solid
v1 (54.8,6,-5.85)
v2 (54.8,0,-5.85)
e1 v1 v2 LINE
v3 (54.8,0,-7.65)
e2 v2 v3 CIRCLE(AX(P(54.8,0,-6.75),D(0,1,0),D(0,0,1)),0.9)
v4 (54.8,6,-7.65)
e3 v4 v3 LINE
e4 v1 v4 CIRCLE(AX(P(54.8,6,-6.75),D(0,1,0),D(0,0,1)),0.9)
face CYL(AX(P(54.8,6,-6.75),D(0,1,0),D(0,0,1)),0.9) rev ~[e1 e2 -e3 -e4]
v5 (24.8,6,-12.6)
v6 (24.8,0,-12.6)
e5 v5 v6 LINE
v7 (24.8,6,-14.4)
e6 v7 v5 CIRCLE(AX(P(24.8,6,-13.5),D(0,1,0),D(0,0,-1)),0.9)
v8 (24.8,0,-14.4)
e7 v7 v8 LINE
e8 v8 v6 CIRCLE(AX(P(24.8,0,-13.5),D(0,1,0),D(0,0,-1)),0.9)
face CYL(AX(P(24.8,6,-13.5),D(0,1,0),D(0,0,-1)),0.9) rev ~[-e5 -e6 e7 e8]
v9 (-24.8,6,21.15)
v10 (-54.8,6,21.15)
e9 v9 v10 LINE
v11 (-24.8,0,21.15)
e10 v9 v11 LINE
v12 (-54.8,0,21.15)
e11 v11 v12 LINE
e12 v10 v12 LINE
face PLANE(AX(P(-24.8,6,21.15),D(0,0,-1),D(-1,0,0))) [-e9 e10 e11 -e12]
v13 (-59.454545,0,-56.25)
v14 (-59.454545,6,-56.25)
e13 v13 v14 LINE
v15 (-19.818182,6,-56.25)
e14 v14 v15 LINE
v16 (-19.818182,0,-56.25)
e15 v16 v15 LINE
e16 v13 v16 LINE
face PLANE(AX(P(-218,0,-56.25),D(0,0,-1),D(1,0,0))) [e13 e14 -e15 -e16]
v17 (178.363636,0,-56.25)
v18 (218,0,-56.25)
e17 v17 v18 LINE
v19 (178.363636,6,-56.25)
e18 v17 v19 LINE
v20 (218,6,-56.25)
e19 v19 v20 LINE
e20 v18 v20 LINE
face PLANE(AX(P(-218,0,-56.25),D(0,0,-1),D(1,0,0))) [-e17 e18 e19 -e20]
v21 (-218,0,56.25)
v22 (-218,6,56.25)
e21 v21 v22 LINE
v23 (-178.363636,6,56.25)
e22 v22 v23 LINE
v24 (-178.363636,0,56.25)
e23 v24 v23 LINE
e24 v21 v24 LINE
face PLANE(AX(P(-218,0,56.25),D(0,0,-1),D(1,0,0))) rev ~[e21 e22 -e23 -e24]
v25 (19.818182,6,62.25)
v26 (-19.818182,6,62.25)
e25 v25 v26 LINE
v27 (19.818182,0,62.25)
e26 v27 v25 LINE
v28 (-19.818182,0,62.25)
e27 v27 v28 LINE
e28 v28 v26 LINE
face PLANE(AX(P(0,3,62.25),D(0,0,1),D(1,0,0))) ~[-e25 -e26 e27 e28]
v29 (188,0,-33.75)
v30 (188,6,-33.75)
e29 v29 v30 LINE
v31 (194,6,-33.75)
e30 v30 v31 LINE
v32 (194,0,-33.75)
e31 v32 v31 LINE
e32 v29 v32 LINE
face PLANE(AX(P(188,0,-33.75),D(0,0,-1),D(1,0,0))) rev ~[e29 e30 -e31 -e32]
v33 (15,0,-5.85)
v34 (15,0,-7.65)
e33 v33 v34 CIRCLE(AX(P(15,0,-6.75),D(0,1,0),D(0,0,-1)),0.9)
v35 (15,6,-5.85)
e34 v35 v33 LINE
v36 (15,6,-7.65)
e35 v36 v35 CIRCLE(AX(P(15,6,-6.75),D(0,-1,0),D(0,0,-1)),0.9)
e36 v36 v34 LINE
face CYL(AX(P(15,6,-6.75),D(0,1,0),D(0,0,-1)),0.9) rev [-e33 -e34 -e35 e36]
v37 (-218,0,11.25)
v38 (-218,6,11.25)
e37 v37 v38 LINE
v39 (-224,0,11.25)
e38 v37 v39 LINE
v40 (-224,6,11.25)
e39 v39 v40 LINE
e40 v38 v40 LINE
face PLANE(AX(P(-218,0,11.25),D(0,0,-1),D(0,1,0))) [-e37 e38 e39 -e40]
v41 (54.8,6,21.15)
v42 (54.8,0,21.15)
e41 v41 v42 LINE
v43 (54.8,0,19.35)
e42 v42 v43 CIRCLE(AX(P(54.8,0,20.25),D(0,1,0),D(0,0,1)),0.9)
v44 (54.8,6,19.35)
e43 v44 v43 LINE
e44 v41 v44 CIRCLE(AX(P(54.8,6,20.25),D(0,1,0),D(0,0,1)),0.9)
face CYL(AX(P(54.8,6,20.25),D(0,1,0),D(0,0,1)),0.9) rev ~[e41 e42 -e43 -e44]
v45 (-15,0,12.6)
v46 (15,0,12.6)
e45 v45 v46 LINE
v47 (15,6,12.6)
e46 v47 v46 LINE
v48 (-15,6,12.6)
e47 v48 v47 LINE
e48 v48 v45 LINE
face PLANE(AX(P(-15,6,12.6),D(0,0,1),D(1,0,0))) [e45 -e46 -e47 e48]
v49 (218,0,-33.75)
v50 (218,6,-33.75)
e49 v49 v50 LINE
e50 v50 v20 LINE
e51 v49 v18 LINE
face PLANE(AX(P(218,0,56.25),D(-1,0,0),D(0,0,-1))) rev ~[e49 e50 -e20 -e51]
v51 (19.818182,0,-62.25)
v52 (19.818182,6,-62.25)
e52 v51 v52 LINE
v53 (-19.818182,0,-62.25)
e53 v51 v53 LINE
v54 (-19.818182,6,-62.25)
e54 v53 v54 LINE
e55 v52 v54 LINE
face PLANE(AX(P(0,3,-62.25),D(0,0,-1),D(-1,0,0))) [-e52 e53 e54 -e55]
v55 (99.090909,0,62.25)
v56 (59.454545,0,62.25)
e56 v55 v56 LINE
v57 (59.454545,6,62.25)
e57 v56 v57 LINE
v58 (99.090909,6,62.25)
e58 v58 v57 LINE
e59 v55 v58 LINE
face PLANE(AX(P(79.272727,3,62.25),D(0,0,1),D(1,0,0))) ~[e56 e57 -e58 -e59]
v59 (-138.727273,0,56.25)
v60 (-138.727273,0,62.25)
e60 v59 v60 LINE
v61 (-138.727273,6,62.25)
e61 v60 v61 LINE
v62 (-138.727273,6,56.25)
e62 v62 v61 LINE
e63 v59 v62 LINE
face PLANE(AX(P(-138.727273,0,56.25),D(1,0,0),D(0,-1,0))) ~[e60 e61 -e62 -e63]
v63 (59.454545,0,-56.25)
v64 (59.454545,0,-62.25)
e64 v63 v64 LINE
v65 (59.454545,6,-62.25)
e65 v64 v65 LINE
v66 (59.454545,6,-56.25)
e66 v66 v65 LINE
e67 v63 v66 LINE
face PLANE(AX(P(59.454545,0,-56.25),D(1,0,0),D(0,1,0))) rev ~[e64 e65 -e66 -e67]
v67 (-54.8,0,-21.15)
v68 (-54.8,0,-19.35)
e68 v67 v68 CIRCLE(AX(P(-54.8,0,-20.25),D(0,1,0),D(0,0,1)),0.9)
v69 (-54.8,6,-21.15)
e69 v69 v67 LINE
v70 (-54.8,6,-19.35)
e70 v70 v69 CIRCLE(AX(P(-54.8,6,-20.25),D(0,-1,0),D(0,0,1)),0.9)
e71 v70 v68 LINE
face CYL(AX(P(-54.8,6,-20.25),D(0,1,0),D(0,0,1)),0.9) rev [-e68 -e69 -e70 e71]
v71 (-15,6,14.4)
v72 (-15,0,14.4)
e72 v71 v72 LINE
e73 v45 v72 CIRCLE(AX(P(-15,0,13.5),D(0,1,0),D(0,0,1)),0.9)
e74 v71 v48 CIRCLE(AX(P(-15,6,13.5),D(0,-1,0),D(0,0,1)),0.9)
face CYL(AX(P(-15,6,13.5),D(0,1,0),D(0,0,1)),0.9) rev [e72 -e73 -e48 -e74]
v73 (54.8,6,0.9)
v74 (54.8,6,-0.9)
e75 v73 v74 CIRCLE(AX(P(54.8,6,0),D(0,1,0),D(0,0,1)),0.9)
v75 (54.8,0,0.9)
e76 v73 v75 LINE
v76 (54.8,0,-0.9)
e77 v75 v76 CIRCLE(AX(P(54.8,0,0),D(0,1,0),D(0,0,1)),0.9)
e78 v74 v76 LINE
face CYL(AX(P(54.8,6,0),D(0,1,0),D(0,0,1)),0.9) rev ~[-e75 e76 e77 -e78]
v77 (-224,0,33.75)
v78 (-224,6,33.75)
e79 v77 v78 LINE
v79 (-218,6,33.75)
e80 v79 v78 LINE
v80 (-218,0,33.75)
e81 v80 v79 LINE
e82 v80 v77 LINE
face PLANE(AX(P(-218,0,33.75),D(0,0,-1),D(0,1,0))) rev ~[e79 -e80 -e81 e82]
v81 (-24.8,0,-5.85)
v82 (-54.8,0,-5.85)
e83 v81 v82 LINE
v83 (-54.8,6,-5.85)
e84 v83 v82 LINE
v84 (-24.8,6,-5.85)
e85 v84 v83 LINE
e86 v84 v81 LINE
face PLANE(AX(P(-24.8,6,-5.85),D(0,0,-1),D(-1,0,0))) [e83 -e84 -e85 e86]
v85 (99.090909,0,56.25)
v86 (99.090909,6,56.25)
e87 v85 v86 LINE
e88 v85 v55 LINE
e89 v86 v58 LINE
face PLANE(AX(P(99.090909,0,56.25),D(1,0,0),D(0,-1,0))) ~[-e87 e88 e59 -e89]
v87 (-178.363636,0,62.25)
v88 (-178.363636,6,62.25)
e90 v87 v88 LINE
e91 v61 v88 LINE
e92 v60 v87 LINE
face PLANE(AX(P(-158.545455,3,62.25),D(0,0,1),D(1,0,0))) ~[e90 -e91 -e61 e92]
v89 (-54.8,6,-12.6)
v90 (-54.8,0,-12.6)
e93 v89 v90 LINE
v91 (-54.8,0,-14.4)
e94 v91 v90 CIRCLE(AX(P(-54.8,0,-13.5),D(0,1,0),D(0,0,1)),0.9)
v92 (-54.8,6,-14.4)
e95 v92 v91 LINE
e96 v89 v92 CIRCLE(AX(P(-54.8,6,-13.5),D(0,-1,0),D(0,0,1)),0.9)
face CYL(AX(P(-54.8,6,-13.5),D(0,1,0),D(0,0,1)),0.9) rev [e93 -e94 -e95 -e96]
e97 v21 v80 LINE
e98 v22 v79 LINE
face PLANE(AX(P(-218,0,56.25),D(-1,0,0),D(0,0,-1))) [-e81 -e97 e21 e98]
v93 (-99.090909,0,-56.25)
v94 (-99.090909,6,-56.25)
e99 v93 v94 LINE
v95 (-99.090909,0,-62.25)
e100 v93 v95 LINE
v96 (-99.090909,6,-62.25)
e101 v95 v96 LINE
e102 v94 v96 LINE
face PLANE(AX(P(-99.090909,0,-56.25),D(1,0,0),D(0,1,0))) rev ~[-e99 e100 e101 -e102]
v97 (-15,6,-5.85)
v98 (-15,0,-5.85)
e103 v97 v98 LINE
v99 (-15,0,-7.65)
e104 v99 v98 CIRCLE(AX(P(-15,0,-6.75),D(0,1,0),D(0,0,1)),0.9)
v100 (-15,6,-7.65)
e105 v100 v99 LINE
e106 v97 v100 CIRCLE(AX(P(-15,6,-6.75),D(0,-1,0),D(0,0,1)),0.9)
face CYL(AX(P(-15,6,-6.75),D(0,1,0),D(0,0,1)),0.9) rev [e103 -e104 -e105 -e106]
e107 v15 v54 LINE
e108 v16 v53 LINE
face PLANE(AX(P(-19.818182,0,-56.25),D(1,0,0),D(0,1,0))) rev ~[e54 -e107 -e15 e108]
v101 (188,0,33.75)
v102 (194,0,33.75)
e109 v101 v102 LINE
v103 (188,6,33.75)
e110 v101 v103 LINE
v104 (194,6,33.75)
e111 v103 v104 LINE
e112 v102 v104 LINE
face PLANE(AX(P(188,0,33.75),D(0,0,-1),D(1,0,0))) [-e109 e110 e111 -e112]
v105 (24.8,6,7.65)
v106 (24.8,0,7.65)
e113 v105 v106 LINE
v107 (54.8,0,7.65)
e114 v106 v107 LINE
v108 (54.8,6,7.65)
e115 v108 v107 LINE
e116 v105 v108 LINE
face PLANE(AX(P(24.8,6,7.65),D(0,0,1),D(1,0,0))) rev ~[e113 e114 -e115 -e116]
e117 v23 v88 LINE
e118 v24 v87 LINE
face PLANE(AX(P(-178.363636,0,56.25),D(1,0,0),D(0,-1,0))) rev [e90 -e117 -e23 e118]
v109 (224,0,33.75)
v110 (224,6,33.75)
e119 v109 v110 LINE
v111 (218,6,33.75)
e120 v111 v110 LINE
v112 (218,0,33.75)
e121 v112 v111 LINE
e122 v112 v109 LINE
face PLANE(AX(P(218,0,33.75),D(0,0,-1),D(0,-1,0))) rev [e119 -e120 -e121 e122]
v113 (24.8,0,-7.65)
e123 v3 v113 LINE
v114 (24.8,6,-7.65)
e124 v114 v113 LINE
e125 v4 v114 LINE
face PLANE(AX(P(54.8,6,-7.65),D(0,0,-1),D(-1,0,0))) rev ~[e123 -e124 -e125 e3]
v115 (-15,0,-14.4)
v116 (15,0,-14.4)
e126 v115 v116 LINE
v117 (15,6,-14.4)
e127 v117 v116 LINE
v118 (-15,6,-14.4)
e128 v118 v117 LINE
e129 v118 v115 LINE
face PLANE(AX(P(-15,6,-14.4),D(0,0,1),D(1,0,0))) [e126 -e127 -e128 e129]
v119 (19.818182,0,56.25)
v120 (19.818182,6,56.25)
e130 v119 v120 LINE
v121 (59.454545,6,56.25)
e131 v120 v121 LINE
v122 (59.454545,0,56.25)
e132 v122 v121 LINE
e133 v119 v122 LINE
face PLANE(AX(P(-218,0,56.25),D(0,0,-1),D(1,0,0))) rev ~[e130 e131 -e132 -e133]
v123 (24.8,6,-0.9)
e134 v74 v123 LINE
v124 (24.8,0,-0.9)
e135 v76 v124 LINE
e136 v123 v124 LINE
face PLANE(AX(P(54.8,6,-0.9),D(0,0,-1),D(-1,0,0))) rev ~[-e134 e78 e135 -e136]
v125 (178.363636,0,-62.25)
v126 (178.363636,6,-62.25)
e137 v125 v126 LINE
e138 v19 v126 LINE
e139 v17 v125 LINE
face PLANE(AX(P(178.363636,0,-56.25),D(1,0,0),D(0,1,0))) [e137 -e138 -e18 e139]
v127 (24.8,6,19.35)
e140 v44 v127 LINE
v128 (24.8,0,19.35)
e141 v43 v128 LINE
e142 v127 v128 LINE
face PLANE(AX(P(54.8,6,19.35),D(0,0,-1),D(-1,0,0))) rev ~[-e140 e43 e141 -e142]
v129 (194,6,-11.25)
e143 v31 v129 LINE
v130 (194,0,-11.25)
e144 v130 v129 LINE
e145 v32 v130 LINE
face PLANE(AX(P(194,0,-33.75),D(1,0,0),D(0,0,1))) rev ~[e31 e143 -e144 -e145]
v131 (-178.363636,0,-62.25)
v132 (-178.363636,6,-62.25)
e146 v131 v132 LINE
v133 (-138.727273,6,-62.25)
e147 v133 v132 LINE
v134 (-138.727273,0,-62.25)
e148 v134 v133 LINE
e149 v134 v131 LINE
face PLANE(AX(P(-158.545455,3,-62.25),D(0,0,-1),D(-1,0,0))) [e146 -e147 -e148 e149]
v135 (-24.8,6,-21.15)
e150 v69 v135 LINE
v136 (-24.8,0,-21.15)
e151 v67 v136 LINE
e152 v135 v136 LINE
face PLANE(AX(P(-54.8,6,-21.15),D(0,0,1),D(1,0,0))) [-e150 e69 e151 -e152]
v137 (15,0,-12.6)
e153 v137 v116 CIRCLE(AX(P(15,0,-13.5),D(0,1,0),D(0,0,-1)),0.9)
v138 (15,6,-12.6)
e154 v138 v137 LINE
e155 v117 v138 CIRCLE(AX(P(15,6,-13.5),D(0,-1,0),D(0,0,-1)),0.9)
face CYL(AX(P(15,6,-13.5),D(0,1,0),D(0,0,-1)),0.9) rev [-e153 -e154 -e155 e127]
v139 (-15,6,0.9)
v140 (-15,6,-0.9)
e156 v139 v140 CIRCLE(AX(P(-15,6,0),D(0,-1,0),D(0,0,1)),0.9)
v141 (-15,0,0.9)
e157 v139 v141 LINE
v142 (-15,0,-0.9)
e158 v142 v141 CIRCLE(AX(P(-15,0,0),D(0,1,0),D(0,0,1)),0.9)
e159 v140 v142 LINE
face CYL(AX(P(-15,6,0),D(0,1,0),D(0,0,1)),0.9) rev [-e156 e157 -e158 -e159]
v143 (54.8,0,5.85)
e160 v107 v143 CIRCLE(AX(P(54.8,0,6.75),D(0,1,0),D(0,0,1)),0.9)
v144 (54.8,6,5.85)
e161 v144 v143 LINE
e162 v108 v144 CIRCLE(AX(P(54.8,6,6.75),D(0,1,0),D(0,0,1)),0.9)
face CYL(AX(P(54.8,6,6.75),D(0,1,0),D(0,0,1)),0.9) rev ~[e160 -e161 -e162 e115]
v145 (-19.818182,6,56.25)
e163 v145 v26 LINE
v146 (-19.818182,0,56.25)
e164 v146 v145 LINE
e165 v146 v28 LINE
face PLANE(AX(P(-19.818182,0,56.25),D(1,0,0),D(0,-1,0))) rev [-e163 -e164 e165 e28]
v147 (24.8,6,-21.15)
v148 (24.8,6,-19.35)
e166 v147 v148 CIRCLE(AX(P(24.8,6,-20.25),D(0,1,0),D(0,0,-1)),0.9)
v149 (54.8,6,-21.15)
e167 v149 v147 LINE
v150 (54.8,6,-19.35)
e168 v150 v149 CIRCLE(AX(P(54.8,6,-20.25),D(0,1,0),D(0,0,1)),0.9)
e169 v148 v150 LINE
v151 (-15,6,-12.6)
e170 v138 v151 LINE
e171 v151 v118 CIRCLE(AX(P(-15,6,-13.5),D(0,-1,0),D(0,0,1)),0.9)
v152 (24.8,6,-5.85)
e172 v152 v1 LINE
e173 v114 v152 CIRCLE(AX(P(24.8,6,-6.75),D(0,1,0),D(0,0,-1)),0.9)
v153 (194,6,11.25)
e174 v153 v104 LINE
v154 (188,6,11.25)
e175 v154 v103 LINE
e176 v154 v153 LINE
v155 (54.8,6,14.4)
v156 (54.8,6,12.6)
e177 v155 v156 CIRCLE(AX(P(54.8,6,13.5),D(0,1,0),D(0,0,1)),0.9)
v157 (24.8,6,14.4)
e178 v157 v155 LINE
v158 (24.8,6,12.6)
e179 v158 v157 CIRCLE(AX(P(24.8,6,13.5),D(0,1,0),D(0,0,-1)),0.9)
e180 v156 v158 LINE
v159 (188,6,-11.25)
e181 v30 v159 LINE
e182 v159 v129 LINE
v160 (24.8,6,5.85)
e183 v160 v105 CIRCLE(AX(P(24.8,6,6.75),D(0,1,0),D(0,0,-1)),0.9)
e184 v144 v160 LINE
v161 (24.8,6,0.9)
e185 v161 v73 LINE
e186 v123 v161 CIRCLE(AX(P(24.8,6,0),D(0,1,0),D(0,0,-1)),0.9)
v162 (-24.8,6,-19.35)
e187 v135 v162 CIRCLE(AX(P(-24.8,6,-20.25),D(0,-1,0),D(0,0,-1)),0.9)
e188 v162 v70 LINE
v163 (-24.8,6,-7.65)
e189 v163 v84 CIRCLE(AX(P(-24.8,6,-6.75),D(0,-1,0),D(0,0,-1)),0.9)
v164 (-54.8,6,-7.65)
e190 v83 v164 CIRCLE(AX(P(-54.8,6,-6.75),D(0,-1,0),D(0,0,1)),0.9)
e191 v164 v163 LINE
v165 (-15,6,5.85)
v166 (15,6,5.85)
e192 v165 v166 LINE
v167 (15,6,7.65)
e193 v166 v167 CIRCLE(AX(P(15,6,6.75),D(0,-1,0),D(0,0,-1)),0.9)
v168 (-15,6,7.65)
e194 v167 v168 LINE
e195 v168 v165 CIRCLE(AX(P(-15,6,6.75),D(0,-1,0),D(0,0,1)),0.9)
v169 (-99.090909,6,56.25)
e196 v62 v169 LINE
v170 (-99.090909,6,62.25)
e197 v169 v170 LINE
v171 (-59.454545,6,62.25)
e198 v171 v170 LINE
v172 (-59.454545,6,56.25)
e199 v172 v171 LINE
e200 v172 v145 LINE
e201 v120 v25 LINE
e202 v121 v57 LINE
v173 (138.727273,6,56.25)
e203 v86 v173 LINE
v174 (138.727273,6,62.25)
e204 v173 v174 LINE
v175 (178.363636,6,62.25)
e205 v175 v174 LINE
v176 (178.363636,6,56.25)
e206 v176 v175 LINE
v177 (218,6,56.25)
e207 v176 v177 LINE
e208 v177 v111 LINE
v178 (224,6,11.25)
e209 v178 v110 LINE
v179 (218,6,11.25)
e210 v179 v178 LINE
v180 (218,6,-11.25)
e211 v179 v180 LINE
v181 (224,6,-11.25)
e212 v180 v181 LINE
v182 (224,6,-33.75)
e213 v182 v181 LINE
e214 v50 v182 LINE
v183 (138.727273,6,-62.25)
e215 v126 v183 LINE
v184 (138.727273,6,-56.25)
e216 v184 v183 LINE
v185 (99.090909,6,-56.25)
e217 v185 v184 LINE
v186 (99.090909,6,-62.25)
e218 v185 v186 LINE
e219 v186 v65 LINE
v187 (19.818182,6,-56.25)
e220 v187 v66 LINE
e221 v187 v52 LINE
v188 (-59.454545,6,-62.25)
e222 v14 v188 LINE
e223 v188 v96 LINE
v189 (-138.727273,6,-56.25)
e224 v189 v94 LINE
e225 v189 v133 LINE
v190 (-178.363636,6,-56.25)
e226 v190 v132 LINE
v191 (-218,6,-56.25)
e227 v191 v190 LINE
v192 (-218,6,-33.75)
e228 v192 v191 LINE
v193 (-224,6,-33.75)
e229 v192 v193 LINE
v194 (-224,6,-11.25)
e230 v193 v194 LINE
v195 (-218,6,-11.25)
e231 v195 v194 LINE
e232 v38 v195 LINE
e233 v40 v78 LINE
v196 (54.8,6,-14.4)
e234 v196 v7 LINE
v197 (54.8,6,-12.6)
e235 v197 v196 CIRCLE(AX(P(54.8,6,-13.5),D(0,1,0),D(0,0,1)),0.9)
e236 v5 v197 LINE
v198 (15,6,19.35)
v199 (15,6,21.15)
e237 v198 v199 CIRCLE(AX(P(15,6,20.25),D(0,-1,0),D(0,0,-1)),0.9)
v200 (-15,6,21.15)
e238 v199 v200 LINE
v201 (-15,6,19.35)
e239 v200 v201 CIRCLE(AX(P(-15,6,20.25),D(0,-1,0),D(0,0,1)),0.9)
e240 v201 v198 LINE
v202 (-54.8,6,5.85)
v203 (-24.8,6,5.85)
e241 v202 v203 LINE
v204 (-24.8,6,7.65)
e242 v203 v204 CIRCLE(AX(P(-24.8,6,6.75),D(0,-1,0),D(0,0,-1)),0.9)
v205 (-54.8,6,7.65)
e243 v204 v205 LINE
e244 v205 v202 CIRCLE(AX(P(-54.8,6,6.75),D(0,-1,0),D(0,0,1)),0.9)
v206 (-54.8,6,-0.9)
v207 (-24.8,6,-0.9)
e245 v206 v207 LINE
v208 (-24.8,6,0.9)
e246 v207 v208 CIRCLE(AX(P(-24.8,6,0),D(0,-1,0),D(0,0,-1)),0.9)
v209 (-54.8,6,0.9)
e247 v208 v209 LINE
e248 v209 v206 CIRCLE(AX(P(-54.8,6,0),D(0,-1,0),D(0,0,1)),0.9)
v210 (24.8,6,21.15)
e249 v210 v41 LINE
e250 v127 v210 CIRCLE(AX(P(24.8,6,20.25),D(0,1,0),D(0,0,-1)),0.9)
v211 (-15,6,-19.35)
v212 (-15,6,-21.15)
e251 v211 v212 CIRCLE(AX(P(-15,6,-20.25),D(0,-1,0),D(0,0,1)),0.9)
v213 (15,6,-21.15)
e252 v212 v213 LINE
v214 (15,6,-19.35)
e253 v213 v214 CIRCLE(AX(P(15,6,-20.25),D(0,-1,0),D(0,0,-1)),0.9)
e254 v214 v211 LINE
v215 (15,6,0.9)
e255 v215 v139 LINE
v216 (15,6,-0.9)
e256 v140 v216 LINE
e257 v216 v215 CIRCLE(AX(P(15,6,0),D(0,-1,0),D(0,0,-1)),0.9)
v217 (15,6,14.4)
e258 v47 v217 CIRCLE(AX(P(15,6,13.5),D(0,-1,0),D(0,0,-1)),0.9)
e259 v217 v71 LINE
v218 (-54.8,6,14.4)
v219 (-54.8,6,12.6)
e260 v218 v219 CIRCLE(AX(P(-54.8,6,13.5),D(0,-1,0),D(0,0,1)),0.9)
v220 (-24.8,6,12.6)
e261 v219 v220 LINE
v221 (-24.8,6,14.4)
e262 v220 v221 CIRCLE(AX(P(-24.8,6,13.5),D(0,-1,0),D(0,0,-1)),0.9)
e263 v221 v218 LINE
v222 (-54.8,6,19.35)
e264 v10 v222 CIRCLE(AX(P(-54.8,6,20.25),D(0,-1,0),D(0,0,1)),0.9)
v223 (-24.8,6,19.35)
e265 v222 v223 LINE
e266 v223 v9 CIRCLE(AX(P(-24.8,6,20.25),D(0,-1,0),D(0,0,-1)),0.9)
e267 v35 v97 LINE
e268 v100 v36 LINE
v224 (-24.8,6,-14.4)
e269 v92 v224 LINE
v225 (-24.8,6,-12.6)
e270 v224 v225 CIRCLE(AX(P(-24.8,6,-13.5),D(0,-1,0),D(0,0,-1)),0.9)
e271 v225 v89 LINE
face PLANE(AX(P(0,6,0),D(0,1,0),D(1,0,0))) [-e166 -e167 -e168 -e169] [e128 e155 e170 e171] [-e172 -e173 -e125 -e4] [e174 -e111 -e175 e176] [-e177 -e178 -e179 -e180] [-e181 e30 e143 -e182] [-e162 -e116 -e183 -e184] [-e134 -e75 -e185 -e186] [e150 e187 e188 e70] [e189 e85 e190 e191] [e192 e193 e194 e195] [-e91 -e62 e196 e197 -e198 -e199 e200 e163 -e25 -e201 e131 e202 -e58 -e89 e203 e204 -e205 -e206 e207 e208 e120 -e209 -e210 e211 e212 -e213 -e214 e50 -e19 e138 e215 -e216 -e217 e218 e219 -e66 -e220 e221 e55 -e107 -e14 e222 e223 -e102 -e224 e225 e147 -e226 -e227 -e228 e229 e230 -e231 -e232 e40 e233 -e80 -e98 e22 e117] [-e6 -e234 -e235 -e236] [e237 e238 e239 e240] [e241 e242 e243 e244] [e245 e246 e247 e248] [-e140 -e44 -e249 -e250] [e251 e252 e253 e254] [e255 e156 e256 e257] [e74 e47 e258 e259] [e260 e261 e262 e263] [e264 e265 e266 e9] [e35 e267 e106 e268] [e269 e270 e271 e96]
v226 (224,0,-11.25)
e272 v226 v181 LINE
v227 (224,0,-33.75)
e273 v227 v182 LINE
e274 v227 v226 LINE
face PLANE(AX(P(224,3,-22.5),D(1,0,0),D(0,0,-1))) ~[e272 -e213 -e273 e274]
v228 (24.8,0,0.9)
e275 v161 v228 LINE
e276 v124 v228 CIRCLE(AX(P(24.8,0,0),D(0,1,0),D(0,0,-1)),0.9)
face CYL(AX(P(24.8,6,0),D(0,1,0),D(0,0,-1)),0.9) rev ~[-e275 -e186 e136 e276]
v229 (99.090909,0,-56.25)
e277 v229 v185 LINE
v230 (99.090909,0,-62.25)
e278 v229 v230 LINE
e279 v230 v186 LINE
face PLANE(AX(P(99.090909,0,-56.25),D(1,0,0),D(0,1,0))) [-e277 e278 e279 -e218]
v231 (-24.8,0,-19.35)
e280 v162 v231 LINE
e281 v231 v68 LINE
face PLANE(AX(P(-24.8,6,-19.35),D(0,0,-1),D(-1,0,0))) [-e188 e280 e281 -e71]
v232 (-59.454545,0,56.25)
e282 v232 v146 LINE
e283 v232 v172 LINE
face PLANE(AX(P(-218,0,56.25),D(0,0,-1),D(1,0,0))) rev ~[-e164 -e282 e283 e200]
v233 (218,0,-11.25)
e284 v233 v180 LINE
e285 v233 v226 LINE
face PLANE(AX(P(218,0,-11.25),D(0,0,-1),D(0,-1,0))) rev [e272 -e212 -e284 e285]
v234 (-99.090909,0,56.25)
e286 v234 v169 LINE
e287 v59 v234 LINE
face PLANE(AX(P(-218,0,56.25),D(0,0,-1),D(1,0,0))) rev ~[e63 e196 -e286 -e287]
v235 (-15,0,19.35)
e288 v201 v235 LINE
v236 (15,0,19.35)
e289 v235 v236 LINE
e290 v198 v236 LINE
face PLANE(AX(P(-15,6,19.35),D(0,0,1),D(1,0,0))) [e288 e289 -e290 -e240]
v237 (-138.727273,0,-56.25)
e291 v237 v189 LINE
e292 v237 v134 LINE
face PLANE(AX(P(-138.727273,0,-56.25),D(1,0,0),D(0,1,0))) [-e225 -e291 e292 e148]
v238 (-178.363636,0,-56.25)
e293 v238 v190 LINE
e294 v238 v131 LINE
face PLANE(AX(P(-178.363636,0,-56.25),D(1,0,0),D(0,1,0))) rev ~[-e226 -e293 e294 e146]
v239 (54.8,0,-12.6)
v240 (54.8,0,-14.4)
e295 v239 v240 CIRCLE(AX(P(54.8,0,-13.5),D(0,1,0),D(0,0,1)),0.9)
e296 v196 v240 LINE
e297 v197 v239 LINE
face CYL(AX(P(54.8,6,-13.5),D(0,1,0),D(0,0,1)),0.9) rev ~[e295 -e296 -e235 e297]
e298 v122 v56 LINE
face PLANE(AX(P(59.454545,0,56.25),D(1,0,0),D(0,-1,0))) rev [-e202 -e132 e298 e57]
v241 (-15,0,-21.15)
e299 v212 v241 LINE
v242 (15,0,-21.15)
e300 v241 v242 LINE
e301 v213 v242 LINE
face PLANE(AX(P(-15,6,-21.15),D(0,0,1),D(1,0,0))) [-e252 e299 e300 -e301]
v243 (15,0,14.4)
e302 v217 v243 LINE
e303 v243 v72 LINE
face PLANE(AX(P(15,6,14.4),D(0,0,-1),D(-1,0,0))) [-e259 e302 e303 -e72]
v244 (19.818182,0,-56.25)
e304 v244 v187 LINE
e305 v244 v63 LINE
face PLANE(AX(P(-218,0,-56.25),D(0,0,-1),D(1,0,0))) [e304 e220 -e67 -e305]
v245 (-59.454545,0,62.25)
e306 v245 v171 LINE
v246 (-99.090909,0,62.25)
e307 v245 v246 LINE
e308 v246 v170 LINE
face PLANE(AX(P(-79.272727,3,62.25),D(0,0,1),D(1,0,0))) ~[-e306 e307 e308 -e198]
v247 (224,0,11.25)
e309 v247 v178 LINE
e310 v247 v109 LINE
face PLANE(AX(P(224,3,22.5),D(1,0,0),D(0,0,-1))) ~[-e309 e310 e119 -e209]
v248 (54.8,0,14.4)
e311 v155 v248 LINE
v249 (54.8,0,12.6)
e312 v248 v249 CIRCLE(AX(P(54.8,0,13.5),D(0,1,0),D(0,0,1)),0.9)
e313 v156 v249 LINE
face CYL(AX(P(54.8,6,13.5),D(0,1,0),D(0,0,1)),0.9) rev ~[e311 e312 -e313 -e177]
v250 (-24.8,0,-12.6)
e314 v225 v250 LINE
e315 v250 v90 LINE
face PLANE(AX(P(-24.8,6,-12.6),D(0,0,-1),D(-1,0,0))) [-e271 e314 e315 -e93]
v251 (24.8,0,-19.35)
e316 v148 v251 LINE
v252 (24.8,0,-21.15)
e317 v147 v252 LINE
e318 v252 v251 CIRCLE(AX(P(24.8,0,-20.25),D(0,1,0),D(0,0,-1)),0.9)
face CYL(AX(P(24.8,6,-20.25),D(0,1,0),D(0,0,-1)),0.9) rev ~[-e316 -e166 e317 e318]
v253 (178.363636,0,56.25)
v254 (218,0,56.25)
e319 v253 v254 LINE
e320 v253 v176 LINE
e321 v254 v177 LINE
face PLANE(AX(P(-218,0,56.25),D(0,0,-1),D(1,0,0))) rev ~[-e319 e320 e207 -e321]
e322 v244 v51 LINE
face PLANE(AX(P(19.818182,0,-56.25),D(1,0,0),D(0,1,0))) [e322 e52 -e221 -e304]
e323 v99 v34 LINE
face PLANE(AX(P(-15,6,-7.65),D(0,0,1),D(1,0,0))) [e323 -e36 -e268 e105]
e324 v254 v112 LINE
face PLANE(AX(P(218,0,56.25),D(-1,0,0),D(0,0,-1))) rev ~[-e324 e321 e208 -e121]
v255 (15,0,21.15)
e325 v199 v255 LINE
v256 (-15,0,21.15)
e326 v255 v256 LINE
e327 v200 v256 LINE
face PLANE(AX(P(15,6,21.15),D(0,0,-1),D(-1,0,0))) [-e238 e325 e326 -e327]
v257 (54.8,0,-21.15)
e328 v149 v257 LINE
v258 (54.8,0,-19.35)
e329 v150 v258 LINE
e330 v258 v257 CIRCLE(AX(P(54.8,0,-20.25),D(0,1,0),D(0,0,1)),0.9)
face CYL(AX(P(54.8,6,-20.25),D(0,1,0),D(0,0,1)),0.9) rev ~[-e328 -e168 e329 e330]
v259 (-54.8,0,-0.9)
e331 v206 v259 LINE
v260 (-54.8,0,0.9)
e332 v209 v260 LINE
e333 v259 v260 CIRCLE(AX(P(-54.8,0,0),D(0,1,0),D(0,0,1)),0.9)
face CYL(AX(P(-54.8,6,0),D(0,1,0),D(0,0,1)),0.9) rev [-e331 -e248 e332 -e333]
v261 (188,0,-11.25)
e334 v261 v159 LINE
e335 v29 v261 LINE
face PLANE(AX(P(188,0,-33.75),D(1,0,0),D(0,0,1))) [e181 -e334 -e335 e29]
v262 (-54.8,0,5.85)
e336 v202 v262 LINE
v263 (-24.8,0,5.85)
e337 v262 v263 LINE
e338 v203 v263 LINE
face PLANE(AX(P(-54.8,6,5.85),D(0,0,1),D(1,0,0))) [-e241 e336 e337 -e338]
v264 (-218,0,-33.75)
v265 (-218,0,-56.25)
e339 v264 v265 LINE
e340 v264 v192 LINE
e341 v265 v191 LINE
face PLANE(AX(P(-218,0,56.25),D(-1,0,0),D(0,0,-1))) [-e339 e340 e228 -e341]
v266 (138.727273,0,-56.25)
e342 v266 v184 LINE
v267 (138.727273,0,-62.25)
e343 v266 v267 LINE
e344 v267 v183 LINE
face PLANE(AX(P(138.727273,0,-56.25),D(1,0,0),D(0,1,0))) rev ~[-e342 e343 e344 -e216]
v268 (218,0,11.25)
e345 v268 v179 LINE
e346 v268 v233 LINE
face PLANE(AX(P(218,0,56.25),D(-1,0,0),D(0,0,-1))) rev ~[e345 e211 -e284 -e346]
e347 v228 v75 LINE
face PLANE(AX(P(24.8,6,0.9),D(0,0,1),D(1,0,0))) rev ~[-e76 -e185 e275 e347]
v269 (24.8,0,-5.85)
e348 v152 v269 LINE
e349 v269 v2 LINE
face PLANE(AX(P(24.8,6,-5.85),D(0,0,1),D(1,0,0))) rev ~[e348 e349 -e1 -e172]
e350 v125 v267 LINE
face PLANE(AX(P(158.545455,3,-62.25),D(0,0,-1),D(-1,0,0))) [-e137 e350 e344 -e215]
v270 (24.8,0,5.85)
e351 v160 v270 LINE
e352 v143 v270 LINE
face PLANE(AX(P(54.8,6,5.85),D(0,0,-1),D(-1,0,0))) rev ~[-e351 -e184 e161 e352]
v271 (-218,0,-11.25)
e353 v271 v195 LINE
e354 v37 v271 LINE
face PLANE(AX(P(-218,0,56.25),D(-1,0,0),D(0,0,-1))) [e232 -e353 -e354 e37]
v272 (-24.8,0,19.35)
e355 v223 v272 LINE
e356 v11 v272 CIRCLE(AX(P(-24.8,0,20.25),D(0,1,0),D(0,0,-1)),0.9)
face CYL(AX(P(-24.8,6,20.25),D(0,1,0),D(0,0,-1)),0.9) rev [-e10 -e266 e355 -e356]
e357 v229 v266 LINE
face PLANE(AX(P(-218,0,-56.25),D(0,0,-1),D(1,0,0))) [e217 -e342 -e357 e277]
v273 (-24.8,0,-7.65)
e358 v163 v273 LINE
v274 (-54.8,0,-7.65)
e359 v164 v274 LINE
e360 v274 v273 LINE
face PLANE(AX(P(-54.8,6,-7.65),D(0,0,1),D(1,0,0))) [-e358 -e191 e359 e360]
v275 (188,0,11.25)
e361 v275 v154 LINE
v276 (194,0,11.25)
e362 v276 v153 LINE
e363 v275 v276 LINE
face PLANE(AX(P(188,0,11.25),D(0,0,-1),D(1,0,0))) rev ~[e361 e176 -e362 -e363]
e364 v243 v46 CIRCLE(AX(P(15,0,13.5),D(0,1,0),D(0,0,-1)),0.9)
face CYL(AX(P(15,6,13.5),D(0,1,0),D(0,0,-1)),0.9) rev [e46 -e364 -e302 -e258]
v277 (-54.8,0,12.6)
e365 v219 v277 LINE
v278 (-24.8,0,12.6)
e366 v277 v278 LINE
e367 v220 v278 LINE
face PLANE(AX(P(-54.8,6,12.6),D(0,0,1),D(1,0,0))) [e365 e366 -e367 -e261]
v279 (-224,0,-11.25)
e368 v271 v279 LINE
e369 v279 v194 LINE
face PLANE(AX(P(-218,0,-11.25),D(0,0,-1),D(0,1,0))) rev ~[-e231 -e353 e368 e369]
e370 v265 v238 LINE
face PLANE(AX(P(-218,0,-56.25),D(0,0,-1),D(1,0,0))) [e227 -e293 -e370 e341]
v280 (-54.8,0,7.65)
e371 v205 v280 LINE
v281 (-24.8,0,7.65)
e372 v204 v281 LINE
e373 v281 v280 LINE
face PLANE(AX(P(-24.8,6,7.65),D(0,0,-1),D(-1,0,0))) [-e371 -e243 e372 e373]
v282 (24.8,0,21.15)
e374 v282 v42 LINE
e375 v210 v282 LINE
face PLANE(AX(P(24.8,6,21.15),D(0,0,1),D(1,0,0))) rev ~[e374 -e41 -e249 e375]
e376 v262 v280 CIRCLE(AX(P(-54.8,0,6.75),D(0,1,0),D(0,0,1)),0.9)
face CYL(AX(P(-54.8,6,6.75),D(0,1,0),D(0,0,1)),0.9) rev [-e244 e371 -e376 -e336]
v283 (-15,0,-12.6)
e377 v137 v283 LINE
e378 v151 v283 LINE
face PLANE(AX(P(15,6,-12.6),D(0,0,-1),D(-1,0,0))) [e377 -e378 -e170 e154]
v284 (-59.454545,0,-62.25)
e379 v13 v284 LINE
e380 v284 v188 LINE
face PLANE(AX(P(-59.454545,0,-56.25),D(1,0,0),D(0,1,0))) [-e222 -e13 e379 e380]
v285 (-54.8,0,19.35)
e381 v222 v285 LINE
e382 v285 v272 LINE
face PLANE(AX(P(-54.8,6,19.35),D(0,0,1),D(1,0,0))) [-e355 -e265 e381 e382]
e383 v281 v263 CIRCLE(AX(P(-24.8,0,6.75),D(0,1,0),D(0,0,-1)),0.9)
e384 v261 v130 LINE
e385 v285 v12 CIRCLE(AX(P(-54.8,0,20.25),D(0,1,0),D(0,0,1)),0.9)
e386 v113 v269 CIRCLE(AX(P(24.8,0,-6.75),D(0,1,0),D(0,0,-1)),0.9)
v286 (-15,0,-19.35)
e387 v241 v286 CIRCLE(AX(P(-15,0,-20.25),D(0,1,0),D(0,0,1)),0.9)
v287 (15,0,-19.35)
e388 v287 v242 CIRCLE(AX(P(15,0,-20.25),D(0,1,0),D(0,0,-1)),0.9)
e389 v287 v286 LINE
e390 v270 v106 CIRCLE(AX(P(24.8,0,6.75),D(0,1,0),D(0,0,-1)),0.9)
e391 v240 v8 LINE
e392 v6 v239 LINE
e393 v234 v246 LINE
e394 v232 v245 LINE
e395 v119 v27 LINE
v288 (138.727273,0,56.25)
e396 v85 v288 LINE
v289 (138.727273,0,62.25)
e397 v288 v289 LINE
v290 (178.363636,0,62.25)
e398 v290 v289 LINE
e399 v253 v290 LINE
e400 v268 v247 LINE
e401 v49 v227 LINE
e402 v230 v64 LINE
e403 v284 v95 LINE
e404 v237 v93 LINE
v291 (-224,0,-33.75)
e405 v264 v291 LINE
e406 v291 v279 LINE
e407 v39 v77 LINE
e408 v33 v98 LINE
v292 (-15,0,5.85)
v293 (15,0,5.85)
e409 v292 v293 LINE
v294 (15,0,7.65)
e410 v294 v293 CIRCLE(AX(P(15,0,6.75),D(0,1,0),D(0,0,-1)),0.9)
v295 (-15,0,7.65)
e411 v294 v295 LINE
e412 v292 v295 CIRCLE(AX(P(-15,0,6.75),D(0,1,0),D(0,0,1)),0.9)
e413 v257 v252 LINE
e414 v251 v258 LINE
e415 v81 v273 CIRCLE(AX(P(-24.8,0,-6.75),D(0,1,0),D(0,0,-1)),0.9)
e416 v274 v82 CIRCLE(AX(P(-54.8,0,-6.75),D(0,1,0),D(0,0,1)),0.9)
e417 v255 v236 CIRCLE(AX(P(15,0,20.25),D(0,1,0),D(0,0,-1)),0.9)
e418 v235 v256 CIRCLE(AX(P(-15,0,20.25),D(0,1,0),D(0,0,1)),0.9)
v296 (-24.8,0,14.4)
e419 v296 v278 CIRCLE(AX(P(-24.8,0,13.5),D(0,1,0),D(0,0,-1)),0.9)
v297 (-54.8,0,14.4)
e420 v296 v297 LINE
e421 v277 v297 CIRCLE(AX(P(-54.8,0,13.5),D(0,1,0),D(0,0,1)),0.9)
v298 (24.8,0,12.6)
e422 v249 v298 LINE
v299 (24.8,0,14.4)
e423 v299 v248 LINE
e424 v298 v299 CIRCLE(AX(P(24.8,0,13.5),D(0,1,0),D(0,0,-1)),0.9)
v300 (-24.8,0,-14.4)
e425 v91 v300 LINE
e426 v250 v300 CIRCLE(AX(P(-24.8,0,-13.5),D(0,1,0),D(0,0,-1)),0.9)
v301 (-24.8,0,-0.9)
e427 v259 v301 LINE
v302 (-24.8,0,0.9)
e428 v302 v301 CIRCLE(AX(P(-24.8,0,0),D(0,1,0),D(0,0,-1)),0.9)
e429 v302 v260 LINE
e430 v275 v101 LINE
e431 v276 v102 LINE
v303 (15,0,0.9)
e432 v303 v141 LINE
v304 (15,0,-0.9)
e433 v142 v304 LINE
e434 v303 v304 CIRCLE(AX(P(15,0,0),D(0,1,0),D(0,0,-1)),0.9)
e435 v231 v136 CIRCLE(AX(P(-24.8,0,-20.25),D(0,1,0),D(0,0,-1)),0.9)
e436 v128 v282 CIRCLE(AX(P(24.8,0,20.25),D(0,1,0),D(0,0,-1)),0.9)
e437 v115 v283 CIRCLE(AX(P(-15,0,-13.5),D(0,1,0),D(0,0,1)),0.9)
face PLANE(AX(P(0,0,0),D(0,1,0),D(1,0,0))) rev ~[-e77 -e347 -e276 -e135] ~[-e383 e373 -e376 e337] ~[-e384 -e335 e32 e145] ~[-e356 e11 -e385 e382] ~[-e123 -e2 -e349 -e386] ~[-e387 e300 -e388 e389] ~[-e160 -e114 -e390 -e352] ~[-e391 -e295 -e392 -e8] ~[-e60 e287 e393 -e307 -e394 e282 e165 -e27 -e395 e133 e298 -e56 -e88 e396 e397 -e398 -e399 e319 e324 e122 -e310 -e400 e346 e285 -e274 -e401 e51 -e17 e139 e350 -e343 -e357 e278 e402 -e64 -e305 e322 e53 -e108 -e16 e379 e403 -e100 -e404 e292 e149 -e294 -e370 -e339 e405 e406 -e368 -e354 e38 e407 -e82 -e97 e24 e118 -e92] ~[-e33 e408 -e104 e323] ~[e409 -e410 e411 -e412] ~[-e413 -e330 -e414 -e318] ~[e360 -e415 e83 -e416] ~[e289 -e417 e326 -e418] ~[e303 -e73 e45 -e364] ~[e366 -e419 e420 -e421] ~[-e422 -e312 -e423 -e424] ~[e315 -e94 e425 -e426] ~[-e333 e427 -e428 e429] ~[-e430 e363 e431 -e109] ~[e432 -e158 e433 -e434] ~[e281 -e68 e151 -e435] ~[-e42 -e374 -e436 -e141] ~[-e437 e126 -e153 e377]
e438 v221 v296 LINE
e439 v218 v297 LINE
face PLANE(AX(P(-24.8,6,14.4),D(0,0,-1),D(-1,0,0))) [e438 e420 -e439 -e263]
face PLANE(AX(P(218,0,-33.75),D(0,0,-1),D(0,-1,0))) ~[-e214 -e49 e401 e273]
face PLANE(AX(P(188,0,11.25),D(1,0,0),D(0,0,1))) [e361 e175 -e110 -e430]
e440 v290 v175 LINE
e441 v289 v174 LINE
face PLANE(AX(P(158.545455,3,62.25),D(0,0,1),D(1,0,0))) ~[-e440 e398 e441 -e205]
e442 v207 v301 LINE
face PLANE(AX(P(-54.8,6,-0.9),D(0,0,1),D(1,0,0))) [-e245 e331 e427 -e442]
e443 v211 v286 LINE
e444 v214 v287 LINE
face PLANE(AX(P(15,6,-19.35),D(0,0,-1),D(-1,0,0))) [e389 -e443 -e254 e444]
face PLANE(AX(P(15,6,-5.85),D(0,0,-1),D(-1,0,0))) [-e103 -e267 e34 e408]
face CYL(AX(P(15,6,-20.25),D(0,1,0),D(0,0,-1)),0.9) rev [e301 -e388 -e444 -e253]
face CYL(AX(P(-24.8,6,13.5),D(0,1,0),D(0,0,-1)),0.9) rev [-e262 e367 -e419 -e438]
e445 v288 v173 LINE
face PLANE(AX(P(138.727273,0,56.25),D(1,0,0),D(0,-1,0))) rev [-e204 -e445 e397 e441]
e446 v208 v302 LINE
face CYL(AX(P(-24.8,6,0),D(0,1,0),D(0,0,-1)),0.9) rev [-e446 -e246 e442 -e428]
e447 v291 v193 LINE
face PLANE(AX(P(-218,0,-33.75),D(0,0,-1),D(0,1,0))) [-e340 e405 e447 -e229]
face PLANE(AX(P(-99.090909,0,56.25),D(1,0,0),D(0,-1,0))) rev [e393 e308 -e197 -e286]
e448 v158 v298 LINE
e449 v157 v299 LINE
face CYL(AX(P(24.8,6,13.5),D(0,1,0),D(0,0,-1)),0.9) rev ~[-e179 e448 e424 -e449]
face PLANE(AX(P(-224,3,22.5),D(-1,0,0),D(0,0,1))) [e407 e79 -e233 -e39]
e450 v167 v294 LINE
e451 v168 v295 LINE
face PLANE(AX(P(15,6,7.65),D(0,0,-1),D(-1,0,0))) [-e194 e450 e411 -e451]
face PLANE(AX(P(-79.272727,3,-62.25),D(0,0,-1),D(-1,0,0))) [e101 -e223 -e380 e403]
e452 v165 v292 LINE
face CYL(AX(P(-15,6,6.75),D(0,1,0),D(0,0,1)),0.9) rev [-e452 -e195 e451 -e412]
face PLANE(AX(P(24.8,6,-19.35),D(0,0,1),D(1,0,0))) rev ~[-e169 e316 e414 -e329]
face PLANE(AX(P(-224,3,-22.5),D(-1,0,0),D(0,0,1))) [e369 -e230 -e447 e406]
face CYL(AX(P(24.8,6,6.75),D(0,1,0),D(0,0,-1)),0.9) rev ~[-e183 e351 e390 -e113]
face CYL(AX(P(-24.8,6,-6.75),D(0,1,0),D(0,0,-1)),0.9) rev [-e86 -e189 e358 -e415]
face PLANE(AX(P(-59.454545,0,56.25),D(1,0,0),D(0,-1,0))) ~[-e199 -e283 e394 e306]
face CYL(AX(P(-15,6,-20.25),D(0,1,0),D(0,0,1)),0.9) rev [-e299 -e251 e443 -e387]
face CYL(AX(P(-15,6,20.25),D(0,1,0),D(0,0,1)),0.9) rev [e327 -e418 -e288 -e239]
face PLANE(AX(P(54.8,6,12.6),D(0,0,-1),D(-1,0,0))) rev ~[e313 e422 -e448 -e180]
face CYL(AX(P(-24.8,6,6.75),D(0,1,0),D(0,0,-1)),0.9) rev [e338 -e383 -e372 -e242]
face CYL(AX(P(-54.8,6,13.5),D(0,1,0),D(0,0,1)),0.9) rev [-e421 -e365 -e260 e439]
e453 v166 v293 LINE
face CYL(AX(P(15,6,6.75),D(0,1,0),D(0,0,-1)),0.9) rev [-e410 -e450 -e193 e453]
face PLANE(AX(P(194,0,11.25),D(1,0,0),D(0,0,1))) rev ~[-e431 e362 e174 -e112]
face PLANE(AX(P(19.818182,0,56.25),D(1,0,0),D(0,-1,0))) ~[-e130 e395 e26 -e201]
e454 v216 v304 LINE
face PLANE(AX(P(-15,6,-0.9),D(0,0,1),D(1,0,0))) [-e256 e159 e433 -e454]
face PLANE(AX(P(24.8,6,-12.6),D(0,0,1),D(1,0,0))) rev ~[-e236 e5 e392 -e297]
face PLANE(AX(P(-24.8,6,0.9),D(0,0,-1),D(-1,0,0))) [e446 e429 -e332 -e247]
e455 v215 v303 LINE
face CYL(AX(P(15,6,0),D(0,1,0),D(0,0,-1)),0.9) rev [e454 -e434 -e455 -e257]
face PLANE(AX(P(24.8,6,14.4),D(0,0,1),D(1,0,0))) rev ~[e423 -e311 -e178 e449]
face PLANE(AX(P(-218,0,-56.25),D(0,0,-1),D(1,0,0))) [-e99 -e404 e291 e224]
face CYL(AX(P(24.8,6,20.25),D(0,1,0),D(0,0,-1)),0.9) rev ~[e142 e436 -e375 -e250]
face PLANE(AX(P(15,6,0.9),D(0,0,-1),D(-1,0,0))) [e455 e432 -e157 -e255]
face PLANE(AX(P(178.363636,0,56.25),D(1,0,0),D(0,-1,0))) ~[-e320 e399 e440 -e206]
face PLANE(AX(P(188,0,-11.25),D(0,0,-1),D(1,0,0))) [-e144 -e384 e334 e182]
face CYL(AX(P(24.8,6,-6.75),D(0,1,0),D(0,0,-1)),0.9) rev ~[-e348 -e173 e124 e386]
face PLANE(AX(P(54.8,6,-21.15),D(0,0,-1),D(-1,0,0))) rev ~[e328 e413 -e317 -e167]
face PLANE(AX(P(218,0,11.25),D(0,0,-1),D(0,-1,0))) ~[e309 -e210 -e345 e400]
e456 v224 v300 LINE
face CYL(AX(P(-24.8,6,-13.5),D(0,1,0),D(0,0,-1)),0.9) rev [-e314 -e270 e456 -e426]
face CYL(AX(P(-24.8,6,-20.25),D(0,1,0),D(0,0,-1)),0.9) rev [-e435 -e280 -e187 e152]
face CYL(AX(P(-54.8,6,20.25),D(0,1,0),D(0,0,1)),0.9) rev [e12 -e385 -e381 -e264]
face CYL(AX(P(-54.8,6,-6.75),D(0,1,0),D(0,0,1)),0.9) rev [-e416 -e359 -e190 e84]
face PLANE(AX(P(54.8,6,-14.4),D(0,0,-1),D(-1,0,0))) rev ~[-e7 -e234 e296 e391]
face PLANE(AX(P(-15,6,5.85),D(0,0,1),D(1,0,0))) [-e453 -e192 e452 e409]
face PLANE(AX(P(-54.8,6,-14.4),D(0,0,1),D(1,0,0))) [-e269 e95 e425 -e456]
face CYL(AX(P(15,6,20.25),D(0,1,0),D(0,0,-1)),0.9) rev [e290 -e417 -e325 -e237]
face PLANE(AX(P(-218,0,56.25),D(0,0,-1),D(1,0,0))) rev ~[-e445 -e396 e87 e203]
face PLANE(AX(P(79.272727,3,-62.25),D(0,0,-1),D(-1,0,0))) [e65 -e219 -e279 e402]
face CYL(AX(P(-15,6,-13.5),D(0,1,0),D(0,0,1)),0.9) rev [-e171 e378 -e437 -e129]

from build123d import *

# Parameters (mm, degrees)
SKETCH1_W           = 436
SKETCH1_H           = 112.5
BOSS_EXTRUDE1_DEPTH = 6
SKETCH2_W           = 22.5
SKETCH2_H           = 6
BOSS_EXTRUDE2_DEPTH = 6
SKETCH3_W           = 39.636363637
SKETCH3_H           = 6
SKETCH3_W_2         = 39.636363636
BOSS_EXTRUDE3_DEPTH = 6
SKETCH4_W           = 6
SKETCH4_H           = 22.5
CUT_EXTRUDE1_DEPTH  = 6
CUT_EXTRUDE2_DEPTH  = 7


with BuildPart() as part:
    # Sketch1 → Boss-Extrude1 (new body)
    with BuildSketch(Plane(origin=(0, 0, 0), x_dir=(1, 0, 0), z_dir=(0, 1, 0))):
        Rectangle(SKETCH1_W, SKETCH1_H)
    extrude(amount=BOSS_EXTRUDE1_DEPTH)

    # Sketch2 → Boss-Extrude2 (add)
    with BuildSketch(Plane.ZY.offset(218)):
        with Locations((-22.5, 3)):
            Rectangle(SKETCH2_W, SKETCH2_H)
        with Locations((22.5, 3)):
            Rectangle(SKETCH2_W, SKETCH2_H)
    boss_extrude2 = extrude(amount=BOSS_EXTRUDE2_DEPTH)

    # Mirror1: Boss-Extrude2 across plane
    add(boss_extrude2.mirror(Plane(origin=(0, 0, 0), x_dir=(0, 0, 1), z_dir=(1, 0, 0))))

    # Sketch3 → Boss-Extrude3 (add)
    with BuildSketch(Plane(origin=(0, 0, -56.25), x_dir=(-1, 0, 0), z_dir=(0, 0, -1))):
        with Locations((158.545454546, 3)):
            Rectangle(SKETCH3_W, SKETCH3_H)
        with Locations((79.272727273, 3)):
            Rectangle(SKETCH3_W_2, SKETCH3_H)
        with Locations((0, 3)):
            Rectangle(SKETCH3_W_2, SKETCH3_H)
        with Locations((-79.272727273, 3)):
            Rectangle(SKETCH3_W_2, SKETCH3_H)
        with Locations((-158.545454546, 3)):
            Rectangle(SKETCH3_W, SKETCH3_H)
    boss_extrude3 = extrude(amount=BOSS_EXTRUDE3_DEPTH)

    # Mirror2: Boss-Extrude3 across Front Plane
    add(boss_extrude3.mirror(Plane.XY))

    # Sketch4 → Cut-Extrude1 (cut)
    with BuildSketch(Plane.XZ):
        with Locations((191, 22.5)):
            Rectangle(SKETCH4_W, SKETCH4_H)
        with Locations((191, -22.5)):
            Rectangle(SKETCH4_W, SKETCH4_H)
    extrude(amount=-CUT_EXTRUDE1_DEPTH, mode=Mode.SUBTRACT)

    # Sketch5 → Cut-Extrude2 (cut, through all)
    with BuildSketch(Plane(origin=(0, 6, 0), x_dir=(1, 0, 0), z_dir=(0, 1, 0))):
        with BuildLine():
            Line((-54.8, 21.15), (-24.8, 21.15))
            ThreePointArc((-24.8, 21.15), (-23.9, 20.25), (-24.8, 19.35))
            Line((-24.8, 19.35), (-54.8, 19.35))
            ThreePointArc((-54.8, 19.35), (-55.7, 20.25), (-54.8, 21.15))
        make_face()
        with BuildLine():
            Line((-15, 21.15), (15, 21.15))
            ThreePointArc((15, 21.15), (15.9, 20.25), (15, 19.35))
            Line((15, 19.35), (-15, 19.35))
            ThreePointArc((-15, 19.35), (-15.9, 20.25), (-15, 21.15))
        make_face()
        with BuildLine():
            Line((54.8, 21.15), (24.8, 21.15))
            ThreePointArc((24.8, 21.15), (23.9, 20.25), (24.8, 19.35))
            Line((24.8, 19.35), (54.8, 19.35))
            ThreePointArc((54.8, 19.35), (55.7, 20.25), (54.8, 21.15))
        make_face()
        with BuildLine():
            Line((-54.8, 14.4), (-24.8, 14.4))
            ThreePointArc((-24.8, 14.4), (-23.9, 13.5), (-24.8, 12.6))
            Line((-24.8, 12.6), (-54.8, 12.6))
            ThreePointArc((-54.8, 12.6), (-55.7, 13.5), (-54.8, 14.4))
        make_face()
        with BuildLine():
            Line((-15, 14.4), (15, 14.4))
            ThreePointArc((15, 14.4), (15.9, 13.5), (15, 12.6))
            Line((15, 12.6), (-15, 12.6))
            ThreePointArc((-15, 12.6), (-15.9, 13.5), (-15, 14.4))
        make_face()
        with BuildLine():
            Line((54.8, 14.4), (24.8, 14.4))
            ThreePointArc((24.8, 14.4), (23.9, 13.5), (24.8, 12.6))
            Line((24.8, 12.6), (54.8, 12.6))
            ThreePointArc((54.8, 12.6), (55.7, 13.5), (54.8, 14.4))
        make_face()
        with BuildLine():
            Line((-54.8, 7.65), (-24.8, 7.65))
            ThreePointArc((-24.8, 7.65), (-23.9, 6.75), (-24.8, 5.85))
            Line((-24.8, 5.85), (-54.8, 5.85))
            ThreePointArc((-54.8, 5.85), (-55.7, 6.75), (-54.8, 7.65))
        make_face()
        with BuildLine():
            Line((-15, 7.65), (15, 7.65))
            ThreePointArc((15, 7.65), (15.9, 6.75), (15, 5.85))
            Line((15, 5.85), (-15, 5.85))
            ThreePointArc((-15, 5.85), (-15.9, 6.75), (-15, 7.65))
        make_face()
        with BuildLine():
            Line((54.8, 7.65), (24.8, 7.65))
            ThreePointArc((24.8, 7.65), (23.9, 6.75), (24.8, 5.85))
            Line((24.8, 5.85), (54.8, 5.85))
            ThreePointArc((54.8, 5.85), (55.7, 6.75), (54.8, 7.65))
        make_face()
        with BuildLine():
            Line((-54.8, 0.9), (-24.8, 0.9))
            ThreePointArc((-24.8, 0.9), (-23.9, 0), (-24.8, -0.9))
            Line((-24.8, -0.9), (-54.8, -0.9))
            ThreePointArc((-54.8, -0.9), (-55.7, 0), (-54.8, 0.9))
        make_face()
        with BuildLine():
            Line((-15, 0.9), (15, 0.9))
            ThreePointArc((15, 0.9), (15.9, 0), (15, -0.9))
            Line((15, -0.9), (-15, -0.9))
            ThreePointArc((-15, -0.9), (-15.9, 0), (-15, 0.9))
        make_face()
        with BuildLine():
            Line((54.8, 0.9), (24.8, 0.9))
            ThreePointArc((24.8, 0.9), (23.9, 0), (24.8, -0.9))
            Line((24.8, -0.9), (54.8, -0.9))
            ThreePointArc((54.8, -0.9), (55.7, 0), (54.8, 0.9))
        make_face()
        with BuildLine():
            Line((-54.8, -5.85), (-24.8, -5.85))
            ThreePointArc((-24.8, -5.85), (-23.9, -6.75), (-24.8, -7.65))
            Line((-24.8, -7.65), (-54.8, -7.65))
            ThreePointArc((-54.8, -7.65), (-55.7, -6.75), (-54.8, -5.85))
        make_face()
        with BuildLine():
            Line((-15, -5.85), (15, -5.85))
            ThreePointArc((15, -5.85), (15.9, -6.75), (15, -7.65))
            Line((15, -7.65), (-15, -7.65))
            ThreePointArc((-15, -7.65), (-15.9, -6.75), (-15, -5.85))
        make_face()
        with BuildLine():
            Line((54.8, -5.85), (24.8, -5.85))
            ThreePointArc((24.8, -5.85), (23.9, -6.75), (24.8, -7.65))
            Line((24.8, -7.65), (54.8, -7.65))
            ThreePointArc((54.8, -7.65), (55.7, -6.75), (54.8, -5.85))
        make_face()
        with BuildLine():
            Line((-54.8, -12.6), (-24.8, -12.6))
            ThreePointArc((-24.8, -12.6), (-23.9, -13.5), (-24.8, -14.4))
            Line((-24.8, -14.4), (-54.8, -14.4))
            ThreePointArc((-54.8, -14.4), (-55.7, -13.5), (-54.8, -12.6))
        make_face()
        with BuildLine():
            Line((-15, -12.6), (15, -12.6))
            ThreePointArc((15, -12.6), (15.9, -13.5), (15, -14.4))
            Line((15, -14.4), (-15, -14.4))
            ThreePointArc((-15, -14.4), (-15.9, -13.5), (-15, -12.6))
        make_face()
        with BuildLine():
            Line((54.8, -12.6), (24.8, -12.6))
            ThreePointArc((24.8, -12.6), (23.9, -13.5), (24.8, -14.4))
            Line((24.8, -14.4), (54.8, -14.4))
            ThreePointArc((54.8, -14.4), (55.7, -13.5), (54.8, -12.6))
        make_face()
        with BuildLine():
            Line((-54.8, -19.35), (-24.8, -19.35))
            ThreePointArc((-24.8, -19.35), (-23.9, -20.25), (-24.8, -21.15))
            Line((-24.8, -21.15), (-54.8, -21.15))
            ThreePointArc((-54.8, -21.15), (-55.7, -20.25), (-54.8, -19.35))
        make_face()
        with BuildLine():
            Line((-15, -19.35), (15, -19.35))
            ThreePointArc((15, -19.35), (15.9, -20.25), (15, -21.15))
            Line((15, -21.15), (-15, -21.15))
            ThreePointArc((-15, -21.15), (-15.9, -20.25), (-15, -19.35))
        make_face()
        with BuildLine():
            Line((54.8, -19.35), (24.8, -19.35))
            ThreePointArc((24.8, -19.35), (23.9, -20.25), (24.8, -21.15))
            Line((24.8, -21.15), (54.8, -21.15))
            ThreePointArc((54.8, -21.15), (55.7, -20.25), (54.8, -19.35))
        make_face()
    extrude(amount=-CUT_EXTRUDE2_DEPTH, mode=Mode.SUBTRACT)


solid = part.part
